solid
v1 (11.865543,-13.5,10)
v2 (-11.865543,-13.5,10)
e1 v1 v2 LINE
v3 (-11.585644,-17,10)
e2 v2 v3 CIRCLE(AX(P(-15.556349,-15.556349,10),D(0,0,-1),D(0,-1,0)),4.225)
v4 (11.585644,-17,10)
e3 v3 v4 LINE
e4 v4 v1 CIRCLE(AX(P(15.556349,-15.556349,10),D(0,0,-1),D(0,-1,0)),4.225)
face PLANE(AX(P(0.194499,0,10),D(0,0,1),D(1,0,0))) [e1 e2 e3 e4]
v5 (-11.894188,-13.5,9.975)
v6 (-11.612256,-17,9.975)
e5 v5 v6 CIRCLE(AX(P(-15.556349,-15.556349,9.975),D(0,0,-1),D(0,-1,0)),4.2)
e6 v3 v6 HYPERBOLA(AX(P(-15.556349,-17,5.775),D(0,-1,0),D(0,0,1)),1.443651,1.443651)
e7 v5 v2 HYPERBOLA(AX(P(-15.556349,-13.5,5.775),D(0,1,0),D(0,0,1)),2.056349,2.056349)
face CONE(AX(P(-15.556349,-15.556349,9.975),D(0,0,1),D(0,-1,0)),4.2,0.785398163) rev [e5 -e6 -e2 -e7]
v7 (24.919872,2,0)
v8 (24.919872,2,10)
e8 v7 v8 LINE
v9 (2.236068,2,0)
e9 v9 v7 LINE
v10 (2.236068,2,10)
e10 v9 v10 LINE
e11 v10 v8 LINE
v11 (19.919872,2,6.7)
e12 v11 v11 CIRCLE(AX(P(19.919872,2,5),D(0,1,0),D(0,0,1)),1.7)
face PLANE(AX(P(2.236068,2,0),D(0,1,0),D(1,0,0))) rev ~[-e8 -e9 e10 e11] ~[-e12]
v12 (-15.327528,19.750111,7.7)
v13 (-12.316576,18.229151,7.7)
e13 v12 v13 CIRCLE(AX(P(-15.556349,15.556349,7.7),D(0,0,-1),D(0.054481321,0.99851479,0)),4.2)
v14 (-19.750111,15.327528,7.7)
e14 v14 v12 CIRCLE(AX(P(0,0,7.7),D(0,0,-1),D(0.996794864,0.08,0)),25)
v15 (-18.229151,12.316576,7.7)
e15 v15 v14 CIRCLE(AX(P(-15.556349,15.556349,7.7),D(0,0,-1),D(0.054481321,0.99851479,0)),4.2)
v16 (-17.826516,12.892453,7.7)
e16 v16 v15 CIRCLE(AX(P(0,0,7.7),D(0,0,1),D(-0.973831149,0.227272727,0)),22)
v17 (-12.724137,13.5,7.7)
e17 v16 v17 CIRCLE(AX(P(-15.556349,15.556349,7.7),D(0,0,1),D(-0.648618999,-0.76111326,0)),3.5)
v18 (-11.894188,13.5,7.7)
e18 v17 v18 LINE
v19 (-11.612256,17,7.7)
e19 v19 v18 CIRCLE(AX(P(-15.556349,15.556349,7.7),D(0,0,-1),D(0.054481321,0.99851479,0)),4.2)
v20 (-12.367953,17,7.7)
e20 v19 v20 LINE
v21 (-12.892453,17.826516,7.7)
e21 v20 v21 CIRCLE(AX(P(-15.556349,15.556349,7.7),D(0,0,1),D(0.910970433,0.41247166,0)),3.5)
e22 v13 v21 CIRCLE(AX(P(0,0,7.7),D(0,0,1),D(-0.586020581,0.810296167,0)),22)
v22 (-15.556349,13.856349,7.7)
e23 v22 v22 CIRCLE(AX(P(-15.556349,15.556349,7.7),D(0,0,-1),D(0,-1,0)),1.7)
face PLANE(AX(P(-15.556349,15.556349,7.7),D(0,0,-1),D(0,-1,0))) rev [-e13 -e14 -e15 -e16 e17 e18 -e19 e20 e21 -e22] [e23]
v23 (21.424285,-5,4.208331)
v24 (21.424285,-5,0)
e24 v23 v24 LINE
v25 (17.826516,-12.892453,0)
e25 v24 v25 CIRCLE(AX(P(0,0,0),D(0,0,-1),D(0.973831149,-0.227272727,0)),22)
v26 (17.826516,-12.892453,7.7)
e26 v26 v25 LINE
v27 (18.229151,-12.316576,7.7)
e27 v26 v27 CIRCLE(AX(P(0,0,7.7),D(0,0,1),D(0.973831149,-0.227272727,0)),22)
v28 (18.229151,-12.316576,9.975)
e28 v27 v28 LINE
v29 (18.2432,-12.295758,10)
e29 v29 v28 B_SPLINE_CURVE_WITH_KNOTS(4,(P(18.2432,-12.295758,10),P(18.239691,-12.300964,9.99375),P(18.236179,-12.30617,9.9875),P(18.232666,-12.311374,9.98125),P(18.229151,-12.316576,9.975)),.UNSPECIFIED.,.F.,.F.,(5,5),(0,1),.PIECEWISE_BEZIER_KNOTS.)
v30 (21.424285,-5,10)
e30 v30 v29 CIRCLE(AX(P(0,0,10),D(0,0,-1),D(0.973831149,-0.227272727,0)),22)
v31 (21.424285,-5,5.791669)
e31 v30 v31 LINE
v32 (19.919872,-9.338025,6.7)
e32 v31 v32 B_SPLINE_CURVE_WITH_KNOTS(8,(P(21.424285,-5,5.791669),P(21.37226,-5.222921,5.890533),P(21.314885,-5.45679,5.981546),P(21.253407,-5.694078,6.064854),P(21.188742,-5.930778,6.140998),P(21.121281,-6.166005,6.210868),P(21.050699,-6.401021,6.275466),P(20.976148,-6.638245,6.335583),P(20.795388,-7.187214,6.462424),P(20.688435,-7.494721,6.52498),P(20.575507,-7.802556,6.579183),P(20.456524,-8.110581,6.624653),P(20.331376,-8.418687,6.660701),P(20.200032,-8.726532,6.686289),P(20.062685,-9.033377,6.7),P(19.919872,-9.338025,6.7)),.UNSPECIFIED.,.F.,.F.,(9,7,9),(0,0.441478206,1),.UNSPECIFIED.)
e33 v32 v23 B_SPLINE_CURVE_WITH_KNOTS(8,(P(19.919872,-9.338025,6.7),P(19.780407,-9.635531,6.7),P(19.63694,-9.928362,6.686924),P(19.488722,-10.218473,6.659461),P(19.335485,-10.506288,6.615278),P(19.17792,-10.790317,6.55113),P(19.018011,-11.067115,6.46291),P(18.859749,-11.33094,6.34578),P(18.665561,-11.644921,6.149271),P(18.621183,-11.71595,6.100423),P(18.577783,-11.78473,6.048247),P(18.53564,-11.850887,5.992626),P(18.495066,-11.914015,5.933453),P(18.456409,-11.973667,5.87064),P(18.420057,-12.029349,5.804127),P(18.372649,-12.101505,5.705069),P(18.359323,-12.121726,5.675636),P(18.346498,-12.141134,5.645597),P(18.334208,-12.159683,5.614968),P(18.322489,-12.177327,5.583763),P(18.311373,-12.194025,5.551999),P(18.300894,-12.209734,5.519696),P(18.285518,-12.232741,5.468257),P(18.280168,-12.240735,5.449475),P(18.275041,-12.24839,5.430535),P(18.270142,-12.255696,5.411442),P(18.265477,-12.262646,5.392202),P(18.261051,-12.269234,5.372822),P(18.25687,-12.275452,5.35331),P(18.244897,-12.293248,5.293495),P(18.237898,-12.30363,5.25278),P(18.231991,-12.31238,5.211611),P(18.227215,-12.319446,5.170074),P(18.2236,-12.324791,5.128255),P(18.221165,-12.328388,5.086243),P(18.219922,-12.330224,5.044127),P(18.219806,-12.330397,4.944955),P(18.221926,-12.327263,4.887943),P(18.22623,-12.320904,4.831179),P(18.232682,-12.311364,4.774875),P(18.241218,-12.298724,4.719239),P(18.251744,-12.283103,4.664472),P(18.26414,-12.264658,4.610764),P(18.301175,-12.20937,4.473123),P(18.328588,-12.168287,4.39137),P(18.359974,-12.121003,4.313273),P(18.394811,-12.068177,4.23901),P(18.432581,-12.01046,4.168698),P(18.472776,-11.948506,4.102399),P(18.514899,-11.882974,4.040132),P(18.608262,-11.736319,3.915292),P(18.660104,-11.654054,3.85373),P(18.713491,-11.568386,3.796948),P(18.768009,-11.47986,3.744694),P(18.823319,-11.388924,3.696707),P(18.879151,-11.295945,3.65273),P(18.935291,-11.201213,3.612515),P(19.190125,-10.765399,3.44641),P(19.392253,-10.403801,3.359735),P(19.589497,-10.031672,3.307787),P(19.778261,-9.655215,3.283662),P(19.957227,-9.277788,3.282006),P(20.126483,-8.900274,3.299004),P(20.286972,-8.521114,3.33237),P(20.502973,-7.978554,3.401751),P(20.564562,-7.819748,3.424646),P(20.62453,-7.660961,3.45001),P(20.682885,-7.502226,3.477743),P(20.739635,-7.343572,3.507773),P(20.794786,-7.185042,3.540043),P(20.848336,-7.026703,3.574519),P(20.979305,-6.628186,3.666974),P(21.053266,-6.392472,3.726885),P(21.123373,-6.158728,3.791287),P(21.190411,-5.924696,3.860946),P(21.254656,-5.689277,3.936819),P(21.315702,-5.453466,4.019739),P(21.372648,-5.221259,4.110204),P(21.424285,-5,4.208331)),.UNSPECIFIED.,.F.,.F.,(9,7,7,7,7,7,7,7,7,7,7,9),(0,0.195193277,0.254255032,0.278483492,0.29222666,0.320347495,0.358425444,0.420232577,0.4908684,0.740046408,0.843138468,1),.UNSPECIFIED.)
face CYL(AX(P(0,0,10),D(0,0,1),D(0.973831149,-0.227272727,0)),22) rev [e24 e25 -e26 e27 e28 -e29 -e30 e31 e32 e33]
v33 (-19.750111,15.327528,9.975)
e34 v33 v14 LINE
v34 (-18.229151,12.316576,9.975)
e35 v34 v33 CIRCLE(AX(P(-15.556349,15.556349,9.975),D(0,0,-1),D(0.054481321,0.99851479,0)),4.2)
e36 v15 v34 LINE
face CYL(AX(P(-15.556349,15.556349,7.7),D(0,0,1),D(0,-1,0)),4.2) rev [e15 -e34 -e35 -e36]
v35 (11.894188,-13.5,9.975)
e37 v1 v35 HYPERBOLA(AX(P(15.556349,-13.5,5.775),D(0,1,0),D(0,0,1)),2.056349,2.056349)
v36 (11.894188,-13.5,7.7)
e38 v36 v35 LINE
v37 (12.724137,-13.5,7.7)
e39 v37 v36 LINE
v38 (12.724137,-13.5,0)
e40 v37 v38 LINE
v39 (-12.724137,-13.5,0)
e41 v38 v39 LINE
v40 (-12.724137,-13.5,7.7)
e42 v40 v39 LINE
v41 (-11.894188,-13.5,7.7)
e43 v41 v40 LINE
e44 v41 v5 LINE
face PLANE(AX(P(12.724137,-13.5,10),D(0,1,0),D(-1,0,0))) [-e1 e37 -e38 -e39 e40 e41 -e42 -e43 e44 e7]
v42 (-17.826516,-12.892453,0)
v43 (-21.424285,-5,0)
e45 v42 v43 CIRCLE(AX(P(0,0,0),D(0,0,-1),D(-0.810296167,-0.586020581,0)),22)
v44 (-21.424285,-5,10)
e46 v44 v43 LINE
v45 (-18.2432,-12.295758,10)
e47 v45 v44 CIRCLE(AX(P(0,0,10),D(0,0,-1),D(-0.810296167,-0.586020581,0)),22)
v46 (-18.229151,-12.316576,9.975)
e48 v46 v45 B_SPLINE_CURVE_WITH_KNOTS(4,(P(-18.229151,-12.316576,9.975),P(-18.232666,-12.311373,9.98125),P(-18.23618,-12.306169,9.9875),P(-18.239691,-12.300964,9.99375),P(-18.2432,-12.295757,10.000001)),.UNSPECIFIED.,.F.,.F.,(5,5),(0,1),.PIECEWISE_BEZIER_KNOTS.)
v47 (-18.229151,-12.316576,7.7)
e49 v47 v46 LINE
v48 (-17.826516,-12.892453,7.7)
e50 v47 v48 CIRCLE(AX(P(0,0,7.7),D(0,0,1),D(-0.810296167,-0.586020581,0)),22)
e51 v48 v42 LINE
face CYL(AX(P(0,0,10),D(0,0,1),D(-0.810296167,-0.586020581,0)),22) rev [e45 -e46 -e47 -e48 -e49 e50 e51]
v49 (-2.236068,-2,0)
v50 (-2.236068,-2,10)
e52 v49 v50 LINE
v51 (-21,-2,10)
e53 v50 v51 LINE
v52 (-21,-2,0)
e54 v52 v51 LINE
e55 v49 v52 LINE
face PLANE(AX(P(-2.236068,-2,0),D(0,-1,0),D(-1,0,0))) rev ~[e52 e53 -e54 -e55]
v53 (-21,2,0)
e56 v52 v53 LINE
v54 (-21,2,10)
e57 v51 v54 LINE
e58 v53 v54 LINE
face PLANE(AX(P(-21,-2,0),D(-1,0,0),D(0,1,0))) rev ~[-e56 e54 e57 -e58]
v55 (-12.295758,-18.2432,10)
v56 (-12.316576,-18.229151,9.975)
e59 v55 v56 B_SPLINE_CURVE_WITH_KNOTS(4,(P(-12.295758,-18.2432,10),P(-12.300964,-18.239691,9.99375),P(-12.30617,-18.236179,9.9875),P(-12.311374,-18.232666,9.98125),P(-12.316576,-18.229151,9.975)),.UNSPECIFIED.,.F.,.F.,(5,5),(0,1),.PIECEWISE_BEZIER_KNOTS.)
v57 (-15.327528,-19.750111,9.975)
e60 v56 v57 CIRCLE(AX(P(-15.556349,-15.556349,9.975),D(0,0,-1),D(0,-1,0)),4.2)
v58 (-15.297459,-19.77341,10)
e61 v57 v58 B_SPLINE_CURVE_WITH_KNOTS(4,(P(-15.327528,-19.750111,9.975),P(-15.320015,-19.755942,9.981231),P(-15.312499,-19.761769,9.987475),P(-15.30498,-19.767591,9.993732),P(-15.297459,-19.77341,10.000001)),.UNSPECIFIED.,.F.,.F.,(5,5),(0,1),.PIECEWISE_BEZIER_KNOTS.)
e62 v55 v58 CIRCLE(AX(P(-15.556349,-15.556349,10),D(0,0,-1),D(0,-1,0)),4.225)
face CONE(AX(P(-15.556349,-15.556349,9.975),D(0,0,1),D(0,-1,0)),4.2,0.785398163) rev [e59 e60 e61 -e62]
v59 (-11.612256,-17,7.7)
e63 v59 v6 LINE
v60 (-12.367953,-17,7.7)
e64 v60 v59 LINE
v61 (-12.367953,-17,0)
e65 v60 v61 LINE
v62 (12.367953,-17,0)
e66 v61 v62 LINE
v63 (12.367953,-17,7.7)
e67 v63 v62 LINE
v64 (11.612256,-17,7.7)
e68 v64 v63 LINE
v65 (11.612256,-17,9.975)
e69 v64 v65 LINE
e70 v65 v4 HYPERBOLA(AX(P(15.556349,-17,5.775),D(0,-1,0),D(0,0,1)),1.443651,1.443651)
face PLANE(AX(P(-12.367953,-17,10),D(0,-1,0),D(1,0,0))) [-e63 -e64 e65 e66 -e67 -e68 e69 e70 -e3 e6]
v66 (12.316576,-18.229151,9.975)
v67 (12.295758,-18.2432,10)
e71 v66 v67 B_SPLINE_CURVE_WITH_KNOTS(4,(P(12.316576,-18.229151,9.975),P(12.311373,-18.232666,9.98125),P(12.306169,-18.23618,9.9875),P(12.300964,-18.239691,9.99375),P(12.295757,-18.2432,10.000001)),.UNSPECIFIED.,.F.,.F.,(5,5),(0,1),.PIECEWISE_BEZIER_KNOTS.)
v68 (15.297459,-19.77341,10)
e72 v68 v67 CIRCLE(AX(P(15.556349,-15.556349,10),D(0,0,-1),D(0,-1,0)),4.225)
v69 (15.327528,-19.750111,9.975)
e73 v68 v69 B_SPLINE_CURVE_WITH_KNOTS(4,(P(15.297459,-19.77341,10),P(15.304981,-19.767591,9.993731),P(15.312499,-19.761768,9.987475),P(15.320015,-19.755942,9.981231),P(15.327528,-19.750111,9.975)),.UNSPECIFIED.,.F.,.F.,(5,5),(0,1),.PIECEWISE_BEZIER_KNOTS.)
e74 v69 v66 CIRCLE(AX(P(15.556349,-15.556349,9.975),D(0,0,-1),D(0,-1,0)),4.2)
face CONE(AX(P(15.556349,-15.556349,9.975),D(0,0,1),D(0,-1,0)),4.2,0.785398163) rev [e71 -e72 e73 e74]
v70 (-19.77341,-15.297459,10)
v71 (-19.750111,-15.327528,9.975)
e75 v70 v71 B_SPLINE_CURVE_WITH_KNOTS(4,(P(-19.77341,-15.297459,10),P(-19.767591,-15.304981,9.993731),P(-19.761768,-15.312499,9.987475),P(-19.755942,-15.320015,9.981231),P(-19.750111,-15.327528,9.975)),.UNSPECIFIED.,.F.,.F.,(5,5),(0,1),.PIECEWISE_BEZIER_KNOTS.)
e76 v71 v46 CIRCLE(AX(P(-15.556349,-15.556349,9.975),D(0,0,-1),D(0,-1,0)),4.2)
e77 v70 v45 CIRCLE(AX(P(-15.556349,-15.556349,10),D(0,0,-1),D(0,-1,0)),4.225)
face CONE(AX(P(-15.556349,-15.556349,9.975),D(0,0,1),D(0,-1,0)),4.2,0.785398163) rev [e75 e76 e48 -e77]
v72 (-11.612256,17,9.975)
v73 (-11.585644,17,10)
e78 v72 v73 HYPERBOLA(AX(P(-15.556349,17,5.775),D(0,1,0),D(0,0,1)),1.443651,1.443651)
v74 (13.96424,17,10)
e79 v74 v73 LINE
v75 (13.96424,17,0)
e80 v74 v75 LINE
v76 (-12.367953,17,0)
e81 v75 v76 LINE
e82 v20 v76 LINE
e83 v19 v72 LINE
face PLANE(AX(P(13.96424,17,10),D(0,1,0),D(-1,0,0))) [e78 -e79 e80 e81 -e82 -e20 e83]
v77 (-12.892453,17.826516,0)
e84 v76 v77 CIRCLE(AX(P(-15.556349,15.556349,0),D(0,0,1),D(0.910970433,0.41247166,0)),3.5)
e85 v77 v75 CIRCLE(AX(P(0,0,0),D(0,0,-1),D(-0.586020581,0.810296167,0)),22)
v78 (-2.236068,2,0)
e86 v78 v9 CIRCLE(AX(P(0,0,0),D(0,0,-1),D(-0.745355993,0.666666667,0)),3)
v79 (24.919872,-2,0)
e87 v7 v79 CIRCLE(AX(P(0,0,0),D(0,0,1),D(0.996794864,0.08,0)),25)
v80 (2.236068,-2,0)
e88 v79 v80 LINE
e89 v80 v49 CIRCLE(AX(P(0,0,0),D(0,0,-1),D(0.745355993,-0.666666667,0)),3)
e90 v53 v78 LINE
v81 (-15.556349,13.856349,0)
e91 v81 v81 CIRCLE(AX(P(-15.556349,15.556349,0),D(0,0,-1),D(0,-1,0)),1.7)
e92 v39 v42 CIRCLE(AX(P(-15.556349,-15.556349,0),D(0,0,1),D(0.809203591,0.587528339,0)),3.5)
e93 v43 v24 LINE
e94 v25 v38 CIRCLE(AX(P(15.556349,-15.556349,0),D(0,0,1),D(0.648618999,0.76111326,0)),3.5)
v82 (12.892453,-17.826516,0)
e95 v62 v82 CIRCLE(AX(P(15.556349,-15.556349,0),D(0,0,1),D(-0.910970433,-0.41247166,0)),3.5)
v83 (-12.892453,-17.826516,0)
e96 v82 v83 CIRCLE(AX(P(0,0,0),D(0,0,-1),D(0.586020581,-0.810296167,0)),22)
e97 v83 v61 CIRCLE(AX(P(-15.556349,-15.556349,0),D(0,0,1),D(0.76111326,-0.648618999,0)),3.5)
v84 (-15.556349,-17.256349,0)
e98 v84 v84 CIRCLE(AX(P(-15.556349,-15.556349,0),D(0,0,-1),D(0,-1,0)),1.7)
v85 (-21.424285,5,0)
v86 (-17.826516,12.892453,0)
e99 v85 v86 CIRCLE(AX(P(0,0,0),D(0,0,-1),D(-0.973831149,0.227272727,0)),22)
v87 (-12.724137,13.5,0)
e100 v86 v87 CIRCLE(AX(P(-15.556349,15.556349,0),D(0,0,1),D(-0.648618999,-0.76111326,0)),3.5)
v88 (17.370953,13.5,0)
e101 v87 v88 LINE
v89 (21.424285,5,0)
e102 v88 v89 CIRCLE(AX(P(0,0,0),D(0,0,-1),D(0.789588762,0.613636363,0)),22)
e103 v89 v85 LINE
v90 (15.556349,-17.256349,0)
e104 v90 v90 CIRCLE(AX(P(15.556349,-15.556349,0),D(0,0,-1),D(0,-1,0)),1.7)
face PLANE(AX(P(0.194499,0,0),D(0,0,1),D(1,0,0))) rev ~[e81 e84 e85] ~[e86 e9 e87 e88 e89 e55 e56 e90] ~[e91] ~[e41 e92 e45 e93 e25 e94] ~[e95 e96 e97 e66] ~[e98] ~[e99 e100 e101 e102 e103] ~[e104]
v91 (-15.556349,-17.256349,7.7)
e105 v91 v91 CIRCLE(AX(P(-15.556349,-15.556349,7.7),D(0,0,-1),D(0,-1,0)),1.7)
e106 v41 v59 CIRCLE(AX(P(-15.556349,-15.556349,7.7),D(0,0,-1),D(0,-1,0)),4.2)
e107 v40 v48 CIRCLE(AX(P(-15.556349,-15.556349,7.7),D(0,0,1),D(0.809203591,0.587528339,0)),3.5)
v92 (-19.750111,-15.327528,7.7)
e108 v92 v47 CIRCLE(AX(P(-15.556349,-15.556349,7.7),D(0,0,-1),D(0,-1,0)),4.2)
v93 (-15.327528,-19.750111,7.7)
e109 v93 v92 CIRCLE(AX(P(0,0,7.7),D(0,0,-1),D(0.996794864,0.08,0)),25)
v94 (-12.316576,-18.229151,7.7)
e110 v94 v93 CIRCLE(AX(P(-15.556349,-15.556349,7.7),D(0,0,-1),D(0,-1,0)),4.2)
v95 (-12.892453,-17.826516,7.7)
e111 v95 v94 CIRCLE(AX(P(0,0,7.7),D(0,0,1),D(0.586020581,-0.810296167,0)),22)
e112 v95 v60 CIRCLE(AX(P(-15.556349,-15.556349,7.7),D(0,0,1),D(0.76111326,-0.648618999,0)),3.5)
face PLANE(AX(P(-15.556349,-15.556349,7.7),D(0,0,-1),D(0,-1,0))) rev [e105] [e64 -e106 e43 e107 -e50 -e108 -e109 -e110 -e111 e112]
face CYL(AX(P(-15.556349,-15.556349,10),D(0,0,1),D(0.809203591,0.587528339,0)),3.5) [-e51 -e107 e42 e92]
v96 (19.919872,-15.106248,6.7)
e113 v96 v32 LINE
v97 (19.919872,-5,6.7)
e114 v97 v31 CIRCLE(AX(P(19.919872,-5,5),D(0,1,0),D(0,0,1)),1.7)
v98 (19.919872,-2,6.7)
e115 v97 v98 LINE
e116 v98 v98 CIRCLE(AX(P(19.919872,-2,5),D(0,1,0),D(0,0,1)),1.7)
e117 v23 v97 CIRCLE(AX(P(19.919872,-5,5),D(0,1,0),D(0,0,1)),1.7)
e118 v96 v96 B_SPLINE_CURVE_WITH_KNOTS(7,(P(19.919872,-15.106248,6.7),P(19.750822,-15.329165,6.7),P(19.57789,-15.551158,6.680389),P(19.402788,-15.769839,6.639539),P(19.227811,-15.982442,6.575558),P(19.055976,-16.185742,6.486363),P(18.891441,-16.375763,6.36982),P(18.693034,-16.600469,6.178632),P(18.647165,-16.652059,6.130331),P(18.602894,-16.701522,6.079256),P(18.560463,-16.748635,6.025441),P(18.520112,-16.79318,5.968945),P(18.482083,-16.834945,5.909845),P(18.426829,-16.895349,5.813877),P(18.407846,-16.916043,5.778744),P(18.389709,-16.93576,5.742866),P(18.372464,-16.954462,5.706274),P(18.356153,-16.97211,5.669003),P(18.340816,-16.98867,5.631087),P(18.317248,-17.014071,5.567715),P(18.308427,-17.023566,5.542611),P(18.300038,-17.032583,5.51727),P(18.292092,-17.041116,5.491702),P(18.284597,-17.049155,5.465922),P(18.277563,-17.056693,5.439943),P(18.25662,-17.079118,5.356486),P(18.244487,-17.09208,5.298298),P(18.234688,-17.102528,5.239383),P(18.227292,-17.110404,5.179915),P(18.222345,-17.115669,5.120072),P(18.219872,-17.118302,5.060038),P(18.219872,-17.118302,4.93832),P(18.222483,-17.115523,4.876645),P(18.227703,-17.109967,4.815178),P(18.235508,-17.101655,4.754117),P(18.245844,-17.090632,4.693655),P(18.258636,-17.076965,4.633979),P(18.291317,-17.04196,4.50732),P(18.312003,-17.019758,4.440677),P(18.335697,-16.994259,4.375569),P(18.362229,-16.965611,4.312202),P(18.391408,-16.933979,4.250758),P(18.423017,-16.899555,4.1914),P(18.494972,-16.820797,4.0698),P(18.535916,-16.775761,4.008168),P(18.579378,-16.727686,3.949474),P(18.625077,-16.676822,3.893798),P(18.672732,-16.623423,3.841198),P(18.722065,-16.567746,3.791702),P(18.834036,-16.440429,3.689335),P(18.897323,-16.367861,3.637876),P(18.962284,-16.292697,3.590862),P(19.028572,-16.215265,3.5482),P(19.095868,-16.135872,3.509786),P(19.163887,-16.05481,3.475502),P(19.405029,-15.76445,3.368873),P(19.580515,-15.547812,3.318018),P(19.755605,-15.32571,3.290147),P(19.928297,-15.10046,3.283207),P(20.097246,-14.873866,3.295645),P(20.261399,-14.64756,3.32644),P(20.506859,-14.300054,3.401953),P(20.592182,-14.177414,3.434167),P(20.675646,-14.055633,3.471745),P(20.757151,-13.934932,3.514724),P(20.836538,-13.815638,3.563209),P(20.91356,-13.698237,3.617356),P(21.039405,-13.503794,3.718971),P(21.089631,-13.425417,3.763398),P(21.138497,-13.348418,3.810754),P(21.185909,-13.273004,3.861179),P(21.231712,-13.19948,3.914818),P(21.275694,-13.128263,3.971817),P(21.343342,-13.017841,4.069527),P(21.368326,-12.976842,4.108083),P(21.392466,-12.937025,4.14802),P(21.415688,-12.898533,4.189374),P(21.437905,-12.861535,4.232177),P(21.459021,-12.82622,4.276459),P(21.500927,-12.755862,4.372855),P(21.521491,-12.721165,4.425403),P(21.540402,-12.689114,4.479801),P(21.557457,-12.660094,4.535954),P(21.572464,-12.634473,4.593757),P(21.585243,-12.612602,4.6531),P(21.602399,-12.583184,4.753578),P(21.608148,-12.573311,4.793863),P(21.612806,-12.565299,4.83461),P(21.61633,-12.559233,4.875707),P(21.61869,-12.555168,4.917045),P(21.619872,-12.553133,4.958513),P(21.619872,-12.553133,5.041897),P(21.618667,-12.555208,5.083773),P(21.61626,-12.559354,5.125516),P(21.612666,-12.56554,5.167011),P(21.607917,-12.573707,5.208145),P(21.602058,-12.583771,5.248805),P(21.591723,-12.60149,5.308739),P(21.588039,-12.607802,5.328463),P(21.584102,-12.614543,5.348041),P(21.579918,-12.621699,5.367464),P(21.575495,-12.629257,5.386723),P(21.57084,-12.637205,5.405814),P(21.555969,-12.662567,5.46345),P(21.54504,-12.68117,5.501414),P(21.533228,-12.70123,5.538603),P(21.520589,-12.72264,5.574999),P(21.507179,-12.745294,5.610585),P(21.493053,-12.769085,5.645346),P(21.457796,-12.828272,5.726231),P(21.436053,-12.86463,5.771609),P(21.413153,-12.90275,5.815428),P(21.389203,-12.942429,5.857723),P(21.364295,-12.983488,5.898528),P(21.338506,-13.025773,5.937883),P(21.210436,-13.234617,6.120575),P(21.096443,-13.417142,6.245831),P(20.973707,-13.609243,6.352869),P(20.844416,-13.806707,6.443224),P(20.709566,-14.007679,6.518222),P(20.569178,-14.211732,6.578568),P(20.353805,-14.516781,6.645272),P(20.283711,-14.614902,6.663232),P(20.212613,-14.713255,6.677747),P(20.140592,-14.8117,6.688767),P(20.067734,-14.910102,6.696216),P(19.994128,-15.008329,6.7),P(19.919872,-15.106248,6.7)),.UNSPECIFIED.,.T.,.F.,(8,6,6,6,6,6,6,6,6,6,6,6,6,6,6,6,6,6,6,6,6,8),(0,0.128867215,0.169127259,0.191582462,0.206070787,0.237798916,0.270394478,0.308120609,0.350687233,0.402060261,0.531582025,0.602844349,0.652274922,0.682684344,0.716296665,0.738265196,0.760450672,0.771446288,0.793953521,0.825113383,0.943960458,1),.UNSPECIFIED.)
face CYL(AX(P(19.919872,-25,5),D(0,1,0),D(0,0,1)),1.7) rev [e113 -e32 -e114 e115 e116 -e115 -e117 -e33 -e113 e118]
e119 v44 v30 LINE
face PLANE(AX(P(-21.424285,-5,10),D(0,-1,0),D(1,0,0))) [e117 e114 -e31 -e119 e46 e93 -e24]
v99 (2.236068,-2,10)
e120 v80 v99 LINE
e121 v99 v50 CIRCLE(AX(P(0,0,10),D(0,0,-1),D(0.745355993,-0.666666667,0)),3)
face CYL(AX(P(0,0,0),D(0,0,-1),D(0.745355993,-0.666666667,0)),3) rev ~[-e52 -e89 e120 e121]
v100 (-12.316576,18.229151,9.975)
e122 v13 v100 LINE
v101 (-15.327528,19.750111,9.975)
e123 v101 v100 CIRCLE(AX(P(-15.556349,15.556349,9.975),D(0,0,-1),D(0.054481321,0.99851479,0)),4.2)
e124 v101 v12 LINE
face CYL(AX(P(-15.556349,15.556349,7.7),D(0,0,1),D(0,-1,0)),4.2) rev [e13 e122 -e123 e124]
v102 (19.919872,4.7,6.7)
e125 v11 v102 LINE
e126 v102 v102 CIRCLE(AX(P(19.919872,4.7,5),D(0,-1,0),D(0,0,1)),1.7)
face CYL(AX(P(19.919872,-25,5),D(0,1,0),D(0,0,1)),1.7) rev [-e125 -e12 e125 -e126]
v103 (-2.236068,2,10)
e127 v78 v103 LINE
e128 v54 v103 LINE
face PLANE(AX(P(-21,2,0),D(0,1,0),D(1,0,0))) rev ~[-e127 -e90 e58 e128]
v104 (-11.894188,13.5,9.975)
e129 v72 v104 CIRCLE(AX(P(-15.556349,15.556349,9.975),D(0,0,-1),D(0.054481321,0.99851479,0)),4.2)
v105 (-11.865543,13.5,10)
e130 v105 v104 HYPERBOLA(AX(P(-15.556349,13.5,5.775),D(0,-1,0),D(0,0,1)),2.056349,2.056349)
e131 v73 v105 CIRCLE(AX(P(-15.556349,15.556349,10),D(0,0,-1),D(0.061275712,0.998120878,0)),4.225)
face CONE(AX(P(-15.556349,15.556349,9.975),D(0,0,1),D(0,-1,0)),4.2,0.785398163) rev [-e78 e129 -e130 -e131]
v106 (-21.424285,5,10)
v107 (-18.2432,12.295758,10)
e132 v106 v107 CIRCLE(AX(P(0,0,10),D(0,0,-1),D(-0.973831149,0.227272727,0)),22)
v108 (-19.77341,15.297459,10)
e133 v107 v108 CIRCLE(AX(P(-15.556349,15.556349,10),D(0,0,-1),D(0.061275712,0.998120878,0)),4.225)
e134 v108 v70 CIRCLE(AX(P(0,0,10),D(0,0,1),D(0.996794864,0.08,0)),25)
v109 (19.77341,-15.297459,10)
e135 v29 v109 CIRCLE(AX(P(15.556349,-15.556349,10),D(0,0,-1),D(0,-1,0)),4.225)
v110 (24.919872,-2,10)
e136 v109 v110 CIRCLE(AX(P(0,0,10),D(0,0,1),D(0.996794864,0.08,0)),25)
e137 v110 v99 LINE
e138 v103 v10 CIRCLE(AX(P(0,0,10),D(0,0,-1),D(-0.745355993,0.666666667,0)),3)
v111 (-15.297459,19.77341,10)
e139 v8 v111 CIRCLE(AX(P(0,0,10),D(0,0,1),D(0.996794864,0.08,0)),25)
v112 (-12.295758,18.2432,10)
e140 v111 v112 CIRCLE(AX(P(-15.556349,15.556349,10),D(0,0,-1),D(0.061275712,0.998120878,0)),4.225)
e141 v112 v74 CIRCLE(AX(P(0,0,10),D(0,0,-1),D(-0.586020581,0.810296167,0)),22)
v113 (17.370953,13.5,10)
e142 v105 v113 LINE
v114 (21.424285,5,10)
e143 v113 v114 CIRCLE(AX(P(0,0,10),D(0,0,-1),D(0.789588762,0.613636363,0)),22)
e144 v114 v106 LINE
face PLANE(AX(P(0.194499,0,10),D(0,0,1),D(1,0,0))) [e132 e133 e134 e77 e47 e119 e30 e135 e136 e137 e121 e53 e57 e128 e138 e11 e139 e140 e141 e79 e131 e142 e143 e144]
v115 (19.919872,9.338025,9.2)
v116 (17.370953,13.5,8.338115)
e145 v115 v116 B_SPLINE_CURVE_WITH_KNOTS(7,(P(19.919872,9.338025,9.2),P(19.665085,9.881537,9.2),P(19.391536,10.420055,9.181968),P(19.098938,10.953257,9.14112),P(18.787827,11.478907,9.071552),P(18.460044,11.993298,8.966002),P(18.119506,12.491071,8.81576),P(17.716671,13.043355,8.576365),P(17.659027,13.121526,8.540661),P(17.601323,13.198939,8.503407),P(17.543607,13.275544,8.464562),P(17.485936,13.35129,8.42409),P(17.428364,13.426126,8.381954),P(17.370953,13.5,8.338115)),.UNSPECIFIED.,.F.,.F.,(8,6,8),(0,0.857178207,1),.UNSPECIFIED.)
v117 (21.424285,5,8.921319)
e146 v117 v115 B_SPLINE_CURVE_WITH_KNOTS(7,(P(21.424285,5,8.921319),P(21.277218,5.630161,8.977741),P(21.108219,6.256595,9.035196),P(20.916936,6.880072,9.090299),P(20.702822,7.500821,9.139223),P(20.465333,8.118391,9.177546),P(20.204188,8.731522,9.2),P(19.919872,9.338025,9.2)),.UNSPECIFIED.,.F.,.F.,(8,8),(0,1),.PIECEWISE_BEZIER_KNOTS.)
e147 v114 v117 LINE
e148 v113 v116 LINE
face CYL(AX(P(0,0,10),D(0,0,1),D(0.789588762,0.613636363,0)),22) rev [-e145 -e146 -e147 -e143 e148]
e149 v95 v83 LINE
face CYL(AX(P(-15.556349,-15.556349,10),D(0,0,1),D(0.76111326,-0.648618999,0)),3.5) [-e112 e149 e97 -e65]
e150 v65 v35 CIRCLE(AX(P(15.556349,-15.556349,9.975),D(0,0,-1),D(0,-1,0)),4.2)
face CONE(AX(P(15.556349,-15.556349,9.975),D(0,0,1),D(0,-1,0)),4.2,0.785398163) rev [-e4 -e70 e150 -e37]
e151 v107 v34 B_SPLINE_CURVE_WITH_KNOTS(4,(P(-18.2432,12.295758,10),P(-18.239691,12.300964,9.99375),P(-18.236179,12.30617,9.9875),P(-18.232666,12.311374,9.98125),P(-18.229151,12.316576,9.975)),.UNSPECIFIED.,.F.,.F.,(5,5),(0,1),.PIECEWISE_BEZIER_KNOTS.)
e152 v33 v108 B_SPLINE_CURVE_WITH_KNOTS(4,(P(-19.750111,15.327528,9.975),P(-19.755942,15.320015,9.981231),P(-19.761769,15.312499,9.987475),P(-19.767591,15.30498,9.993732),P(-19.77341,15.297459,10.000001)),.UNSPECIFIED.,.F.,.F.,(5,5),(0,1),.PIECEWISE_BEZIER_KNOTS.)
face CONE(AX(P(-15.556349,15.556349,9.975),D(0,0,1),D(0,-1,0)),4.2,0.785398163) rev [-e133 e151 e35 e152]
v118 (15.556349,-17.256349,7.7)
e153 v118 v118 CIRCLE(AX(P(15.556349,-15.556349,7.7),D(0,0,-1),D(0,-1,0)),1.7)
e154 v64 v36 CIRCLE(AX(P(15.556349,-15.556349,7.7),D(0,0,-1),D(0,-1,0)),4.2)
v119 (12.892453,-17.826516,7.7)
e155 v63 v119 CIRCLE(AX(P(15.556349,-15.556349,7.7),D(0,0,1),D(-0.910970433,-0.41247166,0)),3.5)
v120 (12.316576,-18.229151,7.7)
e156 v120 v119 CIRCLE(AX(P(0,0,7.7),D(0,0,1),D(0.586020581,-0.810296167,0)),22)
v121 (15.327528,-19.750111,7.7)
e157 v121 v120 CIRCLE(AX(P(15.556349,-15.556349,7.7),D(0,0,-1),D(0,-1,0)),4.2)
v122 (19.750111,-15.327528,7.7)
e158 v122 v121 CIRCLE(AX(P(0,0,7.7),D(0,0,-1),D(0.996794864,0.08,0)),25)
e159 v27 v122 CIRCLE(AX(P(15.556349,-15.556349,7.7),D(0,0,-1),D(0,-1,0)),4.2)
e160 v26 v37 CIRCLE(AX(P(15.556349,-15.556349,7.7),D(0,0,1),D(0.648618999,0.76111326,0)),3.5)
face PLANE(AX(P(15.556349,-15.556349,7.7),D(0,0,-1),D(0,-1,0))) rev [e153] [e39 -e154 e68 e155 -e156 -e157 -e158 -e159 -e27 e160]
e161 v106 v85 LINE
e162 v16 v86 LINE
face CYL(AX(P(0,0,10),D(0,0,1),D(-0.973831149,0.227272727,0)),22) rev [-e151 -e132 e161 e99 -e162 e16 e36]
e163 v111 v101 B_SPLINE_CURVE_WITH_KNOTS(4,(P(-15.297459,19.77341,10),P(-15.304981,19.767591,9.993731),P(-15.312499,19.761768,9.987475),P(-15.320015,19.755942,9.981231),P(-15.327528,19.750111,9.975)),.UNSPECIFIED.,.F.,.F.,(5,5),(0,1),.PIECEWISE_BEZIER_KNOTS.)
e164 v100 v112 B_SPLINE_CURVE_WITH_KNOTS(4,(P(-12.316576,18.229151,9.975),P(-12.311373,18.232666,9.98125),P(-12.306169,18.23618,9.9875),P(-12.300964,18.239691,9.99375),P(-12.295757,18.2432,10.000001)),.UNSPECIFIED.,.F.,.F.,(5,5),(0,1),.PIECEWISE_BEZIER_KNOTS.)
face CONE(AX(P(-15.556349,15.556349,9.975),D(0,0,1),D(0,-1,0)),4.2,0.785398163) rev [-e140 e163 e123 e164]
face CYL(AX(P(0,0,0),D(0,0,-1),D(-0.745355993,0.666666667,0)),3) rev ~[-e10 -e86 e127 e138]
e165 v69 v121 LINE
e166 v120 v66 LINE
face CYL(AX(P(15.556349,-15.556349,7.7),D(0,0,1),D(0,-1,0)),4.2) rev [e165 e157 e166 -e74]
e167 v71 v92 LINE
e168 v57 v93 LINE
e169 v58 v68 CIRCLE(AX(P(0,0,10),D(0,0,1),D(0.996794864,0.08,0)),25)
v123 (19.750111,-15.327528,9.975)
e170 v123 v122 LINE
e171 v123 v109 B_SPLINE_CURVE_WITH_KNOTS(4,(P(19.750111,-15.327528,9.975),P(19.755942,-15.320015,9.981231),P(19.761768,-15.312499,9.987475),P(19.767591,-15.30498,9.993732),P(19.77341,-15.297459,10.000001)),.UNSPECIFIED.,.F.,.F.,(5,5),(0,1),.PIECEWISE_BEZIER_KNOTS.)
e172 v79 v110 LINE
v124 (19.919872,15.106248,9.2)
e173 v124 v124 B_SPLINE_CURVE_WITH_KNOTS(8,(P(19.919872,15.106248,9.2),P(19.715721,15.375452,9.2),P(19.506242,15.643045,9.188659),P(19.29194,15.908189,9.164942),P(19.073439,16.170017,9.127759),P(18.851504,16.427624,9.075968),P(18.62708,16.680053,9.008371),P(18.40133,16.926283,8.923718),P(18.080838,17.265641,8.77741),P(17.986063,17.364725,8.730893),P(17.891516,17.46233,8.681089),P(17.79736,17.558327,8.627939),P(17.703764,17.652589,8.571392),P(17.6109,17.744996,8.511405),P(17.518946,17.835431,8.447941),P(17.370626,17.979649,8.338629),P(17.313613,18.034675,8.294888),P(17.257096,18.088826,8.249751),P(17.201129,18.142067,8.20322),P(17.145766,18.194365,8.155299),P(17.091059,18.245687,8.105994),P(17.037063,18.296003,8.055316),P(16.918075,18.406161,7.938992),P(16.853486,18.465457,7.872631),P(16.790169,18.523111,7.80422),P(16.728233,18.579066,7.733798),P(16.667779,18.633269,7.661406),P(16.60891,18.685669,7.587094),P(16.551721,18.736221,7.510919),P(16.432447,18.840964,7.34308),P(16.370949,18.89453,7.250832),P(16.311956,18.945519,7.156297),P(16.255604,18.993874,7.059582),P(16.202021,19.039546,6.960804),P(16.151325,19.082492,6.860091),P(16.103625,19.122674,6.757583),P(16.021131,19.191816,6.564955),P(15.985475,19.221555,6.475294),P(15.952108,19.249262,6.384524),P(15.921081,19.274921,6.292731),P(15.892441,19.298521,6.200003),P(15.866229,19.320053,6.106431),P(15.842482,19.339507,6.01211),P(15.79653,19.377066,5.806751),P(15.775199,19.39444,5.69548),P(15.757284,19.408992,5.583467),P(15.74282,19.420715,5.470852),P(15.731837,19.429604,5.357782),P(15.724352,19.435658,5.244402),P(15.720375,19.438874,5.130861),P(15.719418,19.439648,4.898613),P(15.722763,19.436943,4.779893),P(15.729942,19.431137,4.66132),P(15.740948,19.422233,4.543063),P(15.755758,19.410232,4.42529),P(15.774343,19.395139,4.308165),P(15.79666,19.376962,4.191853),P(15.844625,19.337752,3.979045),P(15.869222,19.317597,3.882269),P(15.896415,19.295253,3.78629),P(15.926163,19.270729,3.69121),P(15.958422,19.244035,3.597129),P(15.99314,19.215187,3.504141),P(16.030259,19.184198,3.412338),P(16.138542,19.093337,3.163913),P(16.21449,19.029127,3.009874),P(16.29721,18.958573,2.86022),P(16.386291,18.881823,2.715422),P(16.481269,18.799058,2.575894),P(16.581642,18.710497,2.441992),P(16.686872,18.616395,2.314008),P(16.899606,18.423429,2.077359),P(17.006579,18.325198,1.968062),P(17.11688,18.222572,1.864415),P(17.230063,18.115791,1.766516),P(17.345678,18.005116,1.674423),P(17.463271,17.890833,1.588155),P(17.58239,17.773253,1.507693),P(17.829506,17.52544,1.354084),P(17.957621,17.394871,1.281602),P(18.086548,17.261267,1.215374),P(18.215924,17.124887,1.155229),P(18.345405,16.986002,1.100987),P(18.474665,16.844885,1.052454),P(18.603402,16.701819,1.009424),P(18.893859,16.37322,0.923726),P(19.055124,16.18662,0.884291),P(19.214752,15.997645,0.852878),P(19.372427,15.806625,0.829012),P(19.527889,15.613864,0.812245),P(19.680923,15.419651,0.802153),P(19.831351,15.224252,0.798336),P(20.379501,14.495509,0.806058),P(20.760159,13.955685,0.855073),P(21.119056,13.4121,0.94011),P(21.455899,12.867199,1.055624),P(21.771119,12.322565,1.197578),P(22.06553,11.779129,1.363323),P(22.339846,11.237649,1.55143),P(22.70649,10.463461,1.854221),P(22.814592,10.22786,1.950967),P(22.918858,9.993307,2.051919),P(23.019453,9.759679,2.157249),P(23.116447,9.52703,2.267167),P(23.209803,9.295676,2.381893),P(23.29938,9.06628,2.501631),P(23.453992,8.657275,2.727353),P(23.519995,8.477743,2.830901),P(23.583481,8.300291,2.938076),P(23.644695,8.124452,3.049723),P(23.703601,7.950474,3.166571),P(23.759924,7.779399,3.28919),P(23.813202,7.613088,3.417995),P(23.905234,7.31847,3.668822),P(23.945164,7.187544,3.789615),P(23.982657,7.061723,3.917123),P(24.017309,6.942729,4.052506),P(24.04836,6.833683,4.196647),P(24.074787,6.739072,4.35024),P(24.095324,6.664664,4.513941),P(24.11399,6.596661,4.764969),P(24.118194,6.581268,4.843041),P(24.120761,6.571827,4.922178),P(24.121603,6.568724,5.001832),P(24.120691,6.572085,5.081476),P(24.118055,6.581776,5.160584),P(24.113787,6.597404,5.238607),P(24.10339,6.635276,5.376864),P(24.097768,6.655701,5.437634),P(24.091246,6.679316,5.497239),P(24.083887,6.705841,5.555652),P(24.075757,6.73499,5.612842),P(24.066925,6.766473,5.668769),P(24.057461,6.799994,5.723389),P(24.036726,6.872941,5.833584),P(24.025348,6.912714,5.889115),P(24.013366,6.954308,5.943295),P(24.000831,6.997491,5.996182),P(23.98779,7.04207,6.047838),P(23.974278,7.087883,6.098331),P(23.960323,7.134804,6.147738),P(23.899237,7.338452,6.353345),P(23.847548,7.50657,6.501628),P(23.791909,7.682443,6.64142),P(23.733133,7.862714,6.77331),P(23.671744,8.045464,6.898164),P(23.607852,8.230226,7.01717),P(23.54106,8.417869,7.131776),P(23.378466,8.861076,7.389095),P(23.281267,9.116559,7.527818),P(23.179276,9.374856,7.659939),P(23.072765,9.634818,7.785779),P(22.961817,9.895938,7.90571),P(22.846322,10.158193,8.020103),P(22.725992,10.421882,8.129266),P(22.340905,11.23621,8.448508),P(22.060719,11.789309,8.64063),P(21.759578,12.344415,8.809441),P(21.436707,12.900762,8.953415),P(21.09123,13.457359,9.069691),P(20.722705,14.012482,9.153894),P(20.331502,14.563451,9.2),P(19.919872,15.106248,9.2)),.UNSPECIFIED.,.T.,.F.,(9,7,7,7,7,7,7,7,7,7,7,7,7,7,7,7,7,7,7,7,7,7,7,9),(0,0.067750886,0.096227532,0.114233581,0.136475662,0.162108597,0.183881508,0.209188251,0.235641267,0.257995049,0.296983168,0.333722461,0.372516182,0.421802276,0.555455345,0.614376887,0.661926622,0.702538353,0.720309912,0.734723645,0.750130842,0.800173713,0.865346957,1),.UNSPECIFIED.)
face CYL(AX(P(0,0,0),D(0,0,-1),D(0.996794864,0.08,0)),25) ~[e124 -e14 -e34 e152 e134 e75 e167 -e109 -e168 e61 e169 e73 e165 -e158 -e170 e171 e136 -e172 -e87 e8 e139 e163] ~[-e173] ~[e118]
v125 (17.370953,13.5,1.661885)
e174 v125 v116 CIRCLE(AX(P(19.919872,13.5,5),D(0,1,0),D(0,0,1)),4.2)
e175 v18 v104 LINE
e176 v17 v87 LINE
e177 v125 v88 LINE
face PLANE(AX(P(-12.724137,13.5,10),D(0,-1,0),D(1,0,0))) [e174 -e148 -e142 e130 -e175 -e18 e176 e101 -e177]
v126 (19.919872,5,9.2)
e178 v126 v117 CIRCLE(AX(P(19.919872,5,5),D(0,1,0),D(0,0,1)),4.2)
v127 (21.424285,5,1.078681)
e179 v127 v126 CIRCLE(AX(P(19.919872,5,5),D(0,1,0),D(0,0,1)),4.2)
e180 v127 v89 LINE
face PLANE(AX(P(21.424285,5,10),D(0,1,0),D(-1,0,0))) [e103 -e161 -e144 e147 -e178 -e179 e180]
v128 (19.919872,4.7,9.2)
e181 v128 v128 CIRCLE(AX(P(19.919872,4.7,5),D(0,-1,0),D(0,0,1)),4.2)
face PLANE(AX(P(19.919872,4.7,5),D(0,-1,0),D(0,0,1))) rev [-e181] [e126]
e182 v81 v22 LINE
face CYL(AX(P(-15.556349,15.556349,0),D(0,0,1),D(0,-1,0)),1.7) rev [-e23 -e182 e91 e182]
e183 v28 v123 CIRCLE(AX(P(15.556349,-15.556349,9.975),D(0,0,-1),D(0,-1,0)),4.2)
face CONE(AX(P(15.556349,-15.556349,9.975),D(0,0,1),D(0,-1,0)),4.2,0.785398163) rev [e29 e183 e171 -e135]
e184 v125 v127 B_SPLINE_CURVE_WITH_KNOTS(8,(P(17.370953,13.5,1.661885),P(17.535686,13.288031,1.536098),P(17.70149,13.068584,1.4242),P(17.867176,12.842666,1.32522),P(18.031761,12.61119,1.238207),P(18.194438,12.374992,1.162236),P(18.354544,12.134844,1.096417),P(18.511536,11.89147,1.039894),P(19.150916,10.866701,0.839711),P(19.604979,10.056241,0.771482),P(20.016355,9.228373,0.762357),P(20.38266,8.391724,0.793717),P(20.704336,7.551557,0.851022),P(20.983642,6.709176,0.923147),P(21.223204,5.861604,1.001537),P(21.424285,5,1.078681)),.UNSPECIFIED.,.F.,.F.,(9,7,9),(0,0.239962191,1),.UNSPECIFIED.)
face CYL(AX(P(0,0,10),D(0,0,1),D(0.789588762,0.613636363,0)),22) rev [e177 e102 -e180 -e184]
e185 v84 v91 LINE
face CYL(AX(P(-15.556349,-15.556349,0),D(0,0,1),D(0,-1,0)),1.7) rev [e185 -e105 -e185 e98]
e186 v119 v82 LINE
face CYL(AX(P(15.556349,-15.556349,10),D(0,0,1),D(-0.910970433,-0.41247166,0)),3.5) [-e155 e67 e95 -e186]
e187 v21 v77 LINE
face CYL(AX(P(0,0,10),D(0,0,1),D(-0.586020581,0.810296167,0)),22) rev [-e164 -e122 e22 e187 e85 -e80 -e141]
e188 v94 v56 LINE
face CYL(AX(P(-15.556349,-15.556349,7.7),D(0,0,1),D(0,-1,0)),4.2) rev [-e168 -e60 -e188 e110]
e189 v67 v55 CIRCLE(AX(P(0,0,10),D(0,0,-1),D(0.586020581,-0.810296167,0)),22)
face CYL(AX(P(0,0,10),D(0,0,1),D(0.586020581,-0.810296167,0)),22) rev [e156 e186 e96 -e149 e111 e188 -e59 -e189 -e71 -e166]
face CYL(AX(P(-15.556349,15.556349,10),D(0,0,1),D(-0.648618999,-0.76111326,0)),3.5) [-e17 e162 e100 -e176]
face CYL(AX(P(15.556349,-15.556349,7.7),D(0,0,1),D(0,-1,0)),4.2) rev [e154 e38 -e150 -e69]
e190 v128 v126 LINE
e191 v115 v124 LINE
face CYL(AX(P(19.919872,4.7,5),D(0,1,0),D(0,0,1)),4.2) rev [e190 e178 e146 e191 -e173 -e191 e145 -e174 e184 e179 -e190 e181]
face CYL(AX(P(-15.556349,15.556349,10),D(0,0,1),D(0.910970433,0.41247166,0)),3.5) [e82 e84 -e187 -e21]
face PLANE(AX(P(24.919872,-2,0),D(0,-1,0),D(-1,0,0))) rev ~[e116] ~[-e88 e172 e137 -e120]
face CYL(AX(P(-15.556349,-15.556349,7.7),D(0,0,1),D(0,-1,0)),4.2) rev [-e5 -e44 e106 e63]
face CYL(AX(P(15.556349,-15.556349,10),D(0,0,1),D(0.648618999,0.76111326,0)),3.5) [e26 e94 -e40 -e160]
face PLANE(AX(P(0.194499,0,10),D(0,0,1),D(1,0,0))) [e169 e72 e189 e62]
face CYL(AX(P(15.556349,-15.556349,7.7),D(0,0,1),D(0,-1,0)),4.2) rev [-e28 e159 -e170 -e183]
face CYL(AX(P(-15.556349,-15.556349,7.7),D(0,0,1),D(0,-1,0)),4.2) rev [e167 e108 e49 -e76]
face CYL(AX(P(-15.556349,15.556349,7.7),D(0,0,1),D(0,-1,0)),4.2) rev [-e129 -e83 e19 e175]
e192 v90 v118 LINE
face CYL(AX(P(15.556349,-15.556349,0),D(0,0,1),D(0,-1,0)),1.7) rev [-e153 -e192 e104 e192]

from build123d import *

# Parameters (mm, degrees)
BOSS_EXTRUDE1_DEPTH                           = 10
CBORE_FOR_M3_HEX_HEAD_MACHINE_SCREW3_AT_COUNT = 2
CBORE_FOR_M3_HEX_HEAD_MACHINE_SCREW3_AT_PITCH = 31.112698372
CBORE_FOR_M3_HEX_HEAD_MACHINE_SCREW3_2_COUNT  = 2
CBORE_FOR_M3_HEX_HEAD_MACHINE_SCREW3_2_PITCH  = 44
CUT_EXTRUDE1_START                            = -10
CUT_EXTRUDE1_DEPTH                            = 10


with BuildPart() as part:
    # Sketch1 → Boss-Extrude1 (new body)
    with BuildSketch(Plane.XY):
        with BuildLine():
            Line((-2.236067977, -2), (-21, -2))
            Line((-21, -2), (-21, 2))
            Line((-21, 2), (-2.236067977, 2))
            ThreePointArc((-2.236067977, 2), (0, 3), (2.236067977, 2))
            Line((2.236067977, 2), (24.919871589, 2))
            ThreePointArc((24.919871589, 2), (-25, 0), (24.919871589, -2))
            Line((24.919871589, -2), (2.236067977, -2))
            ThreePointArc((2.236067977, -2), (0, -3), (-2.236067977, -2))
        make_face()
    extrude(amount=BOSS_EXTRUDE1_DEPTH)

    # Sketch6 → CBORE for M3 Hex Head Machine Screw2 (revolve, cut)
    with BuildSketch(Plane(origin=(19.919871589, 22, 5), x_dir=(0, 0, 1), z_dir=(1, 0, 0))):
        Polygon((0, 0), (0, 47), (1.7, 47), (1.7, 17.3), (4.2, 17.3), (4.2, 0.025), (4.225, 0), align=None)
    revolve(axis=Axis((19.919871589, 28.35, 5), (0, -1, 0)), mode=Mode.SUBTRACT)

    # Sketch8 → CBORE for M3 Hex Head Machine Screw3 (revolve, cut)
    with BuildSketch(Plane(origin=(-15.556349186, 15.556349186, 10), x_dir=(0, -1, 0), z_dir=(1, 0, 0))):
        Polygon((0, 0), (0, 10), (1.7, 10), (1.7, 2.3), (4.2, 2.3), (4.2, 0.025), (4.225, 0), align=None)
    cbore_for_m3_hex_head_machine_screw3 = revolve(axis=Axis((-15.556349186, 15.556349186, 16.35), (0, 0, -1)), mode=Mode.SUBTRACT)

    # CBORE for M3 Hex Head Machine Screw3 at: CBORE for M3 Hex Head Machine Screw3 ×2
    with Locations(*[(0, -i * CBORE_FOR_M3_HEX_HEAD_MACHINE_SCREW3_AT_PITCH, 0) for i in range(1, CBORE_FOR_M3_HEX_HEAD_MACHINE_SCREW3_AT_COUNT)]):
        add(cbore_for_m3_hex_head_machine_screw3, mode=Mode.SUBTRACT)

    # CBORE for M3 Hex Head Machine Screw3 2: CBORE for M3 Hex Head Machine Screw3 ×2
    with Locations(*[Vector(0.707106781, -0.707106781, 0) * (i * CBORE_FOR_M3_HEX_HEAD_MACHINE_SCREW3_2_PITCH) for i in range(1, CBORE_FOR_M3_HEX_HEAD_MACHINE_SCREW3_2_COUNT)]):
        add(cbore_for_m3_hex_head_machine_screw3, mode=Mode.SUBTRACT)

    # Sketch9 → Cut-Extrude1 (cut)
    with BuildSketch(Plane(origin=(0, 0, 0), x_dir=(-1, 0, 0), z_dir=(0, 0, -1)).offset(CUT_EXTRUDE1_START)):
        with BuildLine():
            ThreePointArc((-17.370952766, 13.5), (-19.8577472, 9.46941794), (-21.424285286, 5))
            Line((-21.424285286, 5), (21.424285286, 5))
            ThreePointArc((21.424285286, 5), (20.018217875, 9.125291947), (17.826515683, 12.892452777))
            ThreePointArc((17.826515683, 12.892452777), (15.142522709, 12.080899913), (12.724136619, 13.5))
            Line((12.724136619, 13.5), (-17.370952766, 13.5))
        make_face()
        with BuildLine():
            Line((21.424285286, -5), (-21.424285286, -5))
            ThreePointArc((-21.424285286, -5), (-20.018217875, -9.125291947), (-17.826515683, -12.892452777))
            ThreePointArc((-17.826515683, -12.892452777), (-15.142522709, -12.080899913), (-12.724136619, -13.5))
            Line((-12.724136619, -13.5), (12.724136619, -13.5))
            ThreePointArc((12.724136619, -13.5), (15.142522709, -12.080899913), (17.826515683, -12.892452777))
            ThreePointArc((17.826515683, -12.892452777), (20.018217875, -9.125291947), (21.424285286, -5))
        make_face()
        with BuildLine():
            ThreePointArc((12.892452777, 17.826515683), (-0.676730397, 21.989589263), (-13.964240044, 17))
            Line((-13.964240044, 17), (12.367952673, 17))
            ThreePointArc((12.367952673, 17), (12.601164732, 17.431685114), (12.892452777, 17.826515683))
        make_face()
        with BuildLine():
            ThreePointArc((-12.367952673, -17), (-12.601164732, -17.431685114), (-12.892452777, -17.826515683))
            ThreePointArc((-12.892452777, -17.826515683), (0, -22), (12.892452777, -17.826515683))
            ThreePointArc((12.892452777, -17.826515683), (12.601164732, -17.431685114), (12.367952673, -17))
            Line((12.367952673, -17), (-12.367952673, -17))
        make_face()
    extrude(amount=CUT_EXTRUDE1_DEPTH, mode=Mode.SUBTRACT)


solid = part.part
